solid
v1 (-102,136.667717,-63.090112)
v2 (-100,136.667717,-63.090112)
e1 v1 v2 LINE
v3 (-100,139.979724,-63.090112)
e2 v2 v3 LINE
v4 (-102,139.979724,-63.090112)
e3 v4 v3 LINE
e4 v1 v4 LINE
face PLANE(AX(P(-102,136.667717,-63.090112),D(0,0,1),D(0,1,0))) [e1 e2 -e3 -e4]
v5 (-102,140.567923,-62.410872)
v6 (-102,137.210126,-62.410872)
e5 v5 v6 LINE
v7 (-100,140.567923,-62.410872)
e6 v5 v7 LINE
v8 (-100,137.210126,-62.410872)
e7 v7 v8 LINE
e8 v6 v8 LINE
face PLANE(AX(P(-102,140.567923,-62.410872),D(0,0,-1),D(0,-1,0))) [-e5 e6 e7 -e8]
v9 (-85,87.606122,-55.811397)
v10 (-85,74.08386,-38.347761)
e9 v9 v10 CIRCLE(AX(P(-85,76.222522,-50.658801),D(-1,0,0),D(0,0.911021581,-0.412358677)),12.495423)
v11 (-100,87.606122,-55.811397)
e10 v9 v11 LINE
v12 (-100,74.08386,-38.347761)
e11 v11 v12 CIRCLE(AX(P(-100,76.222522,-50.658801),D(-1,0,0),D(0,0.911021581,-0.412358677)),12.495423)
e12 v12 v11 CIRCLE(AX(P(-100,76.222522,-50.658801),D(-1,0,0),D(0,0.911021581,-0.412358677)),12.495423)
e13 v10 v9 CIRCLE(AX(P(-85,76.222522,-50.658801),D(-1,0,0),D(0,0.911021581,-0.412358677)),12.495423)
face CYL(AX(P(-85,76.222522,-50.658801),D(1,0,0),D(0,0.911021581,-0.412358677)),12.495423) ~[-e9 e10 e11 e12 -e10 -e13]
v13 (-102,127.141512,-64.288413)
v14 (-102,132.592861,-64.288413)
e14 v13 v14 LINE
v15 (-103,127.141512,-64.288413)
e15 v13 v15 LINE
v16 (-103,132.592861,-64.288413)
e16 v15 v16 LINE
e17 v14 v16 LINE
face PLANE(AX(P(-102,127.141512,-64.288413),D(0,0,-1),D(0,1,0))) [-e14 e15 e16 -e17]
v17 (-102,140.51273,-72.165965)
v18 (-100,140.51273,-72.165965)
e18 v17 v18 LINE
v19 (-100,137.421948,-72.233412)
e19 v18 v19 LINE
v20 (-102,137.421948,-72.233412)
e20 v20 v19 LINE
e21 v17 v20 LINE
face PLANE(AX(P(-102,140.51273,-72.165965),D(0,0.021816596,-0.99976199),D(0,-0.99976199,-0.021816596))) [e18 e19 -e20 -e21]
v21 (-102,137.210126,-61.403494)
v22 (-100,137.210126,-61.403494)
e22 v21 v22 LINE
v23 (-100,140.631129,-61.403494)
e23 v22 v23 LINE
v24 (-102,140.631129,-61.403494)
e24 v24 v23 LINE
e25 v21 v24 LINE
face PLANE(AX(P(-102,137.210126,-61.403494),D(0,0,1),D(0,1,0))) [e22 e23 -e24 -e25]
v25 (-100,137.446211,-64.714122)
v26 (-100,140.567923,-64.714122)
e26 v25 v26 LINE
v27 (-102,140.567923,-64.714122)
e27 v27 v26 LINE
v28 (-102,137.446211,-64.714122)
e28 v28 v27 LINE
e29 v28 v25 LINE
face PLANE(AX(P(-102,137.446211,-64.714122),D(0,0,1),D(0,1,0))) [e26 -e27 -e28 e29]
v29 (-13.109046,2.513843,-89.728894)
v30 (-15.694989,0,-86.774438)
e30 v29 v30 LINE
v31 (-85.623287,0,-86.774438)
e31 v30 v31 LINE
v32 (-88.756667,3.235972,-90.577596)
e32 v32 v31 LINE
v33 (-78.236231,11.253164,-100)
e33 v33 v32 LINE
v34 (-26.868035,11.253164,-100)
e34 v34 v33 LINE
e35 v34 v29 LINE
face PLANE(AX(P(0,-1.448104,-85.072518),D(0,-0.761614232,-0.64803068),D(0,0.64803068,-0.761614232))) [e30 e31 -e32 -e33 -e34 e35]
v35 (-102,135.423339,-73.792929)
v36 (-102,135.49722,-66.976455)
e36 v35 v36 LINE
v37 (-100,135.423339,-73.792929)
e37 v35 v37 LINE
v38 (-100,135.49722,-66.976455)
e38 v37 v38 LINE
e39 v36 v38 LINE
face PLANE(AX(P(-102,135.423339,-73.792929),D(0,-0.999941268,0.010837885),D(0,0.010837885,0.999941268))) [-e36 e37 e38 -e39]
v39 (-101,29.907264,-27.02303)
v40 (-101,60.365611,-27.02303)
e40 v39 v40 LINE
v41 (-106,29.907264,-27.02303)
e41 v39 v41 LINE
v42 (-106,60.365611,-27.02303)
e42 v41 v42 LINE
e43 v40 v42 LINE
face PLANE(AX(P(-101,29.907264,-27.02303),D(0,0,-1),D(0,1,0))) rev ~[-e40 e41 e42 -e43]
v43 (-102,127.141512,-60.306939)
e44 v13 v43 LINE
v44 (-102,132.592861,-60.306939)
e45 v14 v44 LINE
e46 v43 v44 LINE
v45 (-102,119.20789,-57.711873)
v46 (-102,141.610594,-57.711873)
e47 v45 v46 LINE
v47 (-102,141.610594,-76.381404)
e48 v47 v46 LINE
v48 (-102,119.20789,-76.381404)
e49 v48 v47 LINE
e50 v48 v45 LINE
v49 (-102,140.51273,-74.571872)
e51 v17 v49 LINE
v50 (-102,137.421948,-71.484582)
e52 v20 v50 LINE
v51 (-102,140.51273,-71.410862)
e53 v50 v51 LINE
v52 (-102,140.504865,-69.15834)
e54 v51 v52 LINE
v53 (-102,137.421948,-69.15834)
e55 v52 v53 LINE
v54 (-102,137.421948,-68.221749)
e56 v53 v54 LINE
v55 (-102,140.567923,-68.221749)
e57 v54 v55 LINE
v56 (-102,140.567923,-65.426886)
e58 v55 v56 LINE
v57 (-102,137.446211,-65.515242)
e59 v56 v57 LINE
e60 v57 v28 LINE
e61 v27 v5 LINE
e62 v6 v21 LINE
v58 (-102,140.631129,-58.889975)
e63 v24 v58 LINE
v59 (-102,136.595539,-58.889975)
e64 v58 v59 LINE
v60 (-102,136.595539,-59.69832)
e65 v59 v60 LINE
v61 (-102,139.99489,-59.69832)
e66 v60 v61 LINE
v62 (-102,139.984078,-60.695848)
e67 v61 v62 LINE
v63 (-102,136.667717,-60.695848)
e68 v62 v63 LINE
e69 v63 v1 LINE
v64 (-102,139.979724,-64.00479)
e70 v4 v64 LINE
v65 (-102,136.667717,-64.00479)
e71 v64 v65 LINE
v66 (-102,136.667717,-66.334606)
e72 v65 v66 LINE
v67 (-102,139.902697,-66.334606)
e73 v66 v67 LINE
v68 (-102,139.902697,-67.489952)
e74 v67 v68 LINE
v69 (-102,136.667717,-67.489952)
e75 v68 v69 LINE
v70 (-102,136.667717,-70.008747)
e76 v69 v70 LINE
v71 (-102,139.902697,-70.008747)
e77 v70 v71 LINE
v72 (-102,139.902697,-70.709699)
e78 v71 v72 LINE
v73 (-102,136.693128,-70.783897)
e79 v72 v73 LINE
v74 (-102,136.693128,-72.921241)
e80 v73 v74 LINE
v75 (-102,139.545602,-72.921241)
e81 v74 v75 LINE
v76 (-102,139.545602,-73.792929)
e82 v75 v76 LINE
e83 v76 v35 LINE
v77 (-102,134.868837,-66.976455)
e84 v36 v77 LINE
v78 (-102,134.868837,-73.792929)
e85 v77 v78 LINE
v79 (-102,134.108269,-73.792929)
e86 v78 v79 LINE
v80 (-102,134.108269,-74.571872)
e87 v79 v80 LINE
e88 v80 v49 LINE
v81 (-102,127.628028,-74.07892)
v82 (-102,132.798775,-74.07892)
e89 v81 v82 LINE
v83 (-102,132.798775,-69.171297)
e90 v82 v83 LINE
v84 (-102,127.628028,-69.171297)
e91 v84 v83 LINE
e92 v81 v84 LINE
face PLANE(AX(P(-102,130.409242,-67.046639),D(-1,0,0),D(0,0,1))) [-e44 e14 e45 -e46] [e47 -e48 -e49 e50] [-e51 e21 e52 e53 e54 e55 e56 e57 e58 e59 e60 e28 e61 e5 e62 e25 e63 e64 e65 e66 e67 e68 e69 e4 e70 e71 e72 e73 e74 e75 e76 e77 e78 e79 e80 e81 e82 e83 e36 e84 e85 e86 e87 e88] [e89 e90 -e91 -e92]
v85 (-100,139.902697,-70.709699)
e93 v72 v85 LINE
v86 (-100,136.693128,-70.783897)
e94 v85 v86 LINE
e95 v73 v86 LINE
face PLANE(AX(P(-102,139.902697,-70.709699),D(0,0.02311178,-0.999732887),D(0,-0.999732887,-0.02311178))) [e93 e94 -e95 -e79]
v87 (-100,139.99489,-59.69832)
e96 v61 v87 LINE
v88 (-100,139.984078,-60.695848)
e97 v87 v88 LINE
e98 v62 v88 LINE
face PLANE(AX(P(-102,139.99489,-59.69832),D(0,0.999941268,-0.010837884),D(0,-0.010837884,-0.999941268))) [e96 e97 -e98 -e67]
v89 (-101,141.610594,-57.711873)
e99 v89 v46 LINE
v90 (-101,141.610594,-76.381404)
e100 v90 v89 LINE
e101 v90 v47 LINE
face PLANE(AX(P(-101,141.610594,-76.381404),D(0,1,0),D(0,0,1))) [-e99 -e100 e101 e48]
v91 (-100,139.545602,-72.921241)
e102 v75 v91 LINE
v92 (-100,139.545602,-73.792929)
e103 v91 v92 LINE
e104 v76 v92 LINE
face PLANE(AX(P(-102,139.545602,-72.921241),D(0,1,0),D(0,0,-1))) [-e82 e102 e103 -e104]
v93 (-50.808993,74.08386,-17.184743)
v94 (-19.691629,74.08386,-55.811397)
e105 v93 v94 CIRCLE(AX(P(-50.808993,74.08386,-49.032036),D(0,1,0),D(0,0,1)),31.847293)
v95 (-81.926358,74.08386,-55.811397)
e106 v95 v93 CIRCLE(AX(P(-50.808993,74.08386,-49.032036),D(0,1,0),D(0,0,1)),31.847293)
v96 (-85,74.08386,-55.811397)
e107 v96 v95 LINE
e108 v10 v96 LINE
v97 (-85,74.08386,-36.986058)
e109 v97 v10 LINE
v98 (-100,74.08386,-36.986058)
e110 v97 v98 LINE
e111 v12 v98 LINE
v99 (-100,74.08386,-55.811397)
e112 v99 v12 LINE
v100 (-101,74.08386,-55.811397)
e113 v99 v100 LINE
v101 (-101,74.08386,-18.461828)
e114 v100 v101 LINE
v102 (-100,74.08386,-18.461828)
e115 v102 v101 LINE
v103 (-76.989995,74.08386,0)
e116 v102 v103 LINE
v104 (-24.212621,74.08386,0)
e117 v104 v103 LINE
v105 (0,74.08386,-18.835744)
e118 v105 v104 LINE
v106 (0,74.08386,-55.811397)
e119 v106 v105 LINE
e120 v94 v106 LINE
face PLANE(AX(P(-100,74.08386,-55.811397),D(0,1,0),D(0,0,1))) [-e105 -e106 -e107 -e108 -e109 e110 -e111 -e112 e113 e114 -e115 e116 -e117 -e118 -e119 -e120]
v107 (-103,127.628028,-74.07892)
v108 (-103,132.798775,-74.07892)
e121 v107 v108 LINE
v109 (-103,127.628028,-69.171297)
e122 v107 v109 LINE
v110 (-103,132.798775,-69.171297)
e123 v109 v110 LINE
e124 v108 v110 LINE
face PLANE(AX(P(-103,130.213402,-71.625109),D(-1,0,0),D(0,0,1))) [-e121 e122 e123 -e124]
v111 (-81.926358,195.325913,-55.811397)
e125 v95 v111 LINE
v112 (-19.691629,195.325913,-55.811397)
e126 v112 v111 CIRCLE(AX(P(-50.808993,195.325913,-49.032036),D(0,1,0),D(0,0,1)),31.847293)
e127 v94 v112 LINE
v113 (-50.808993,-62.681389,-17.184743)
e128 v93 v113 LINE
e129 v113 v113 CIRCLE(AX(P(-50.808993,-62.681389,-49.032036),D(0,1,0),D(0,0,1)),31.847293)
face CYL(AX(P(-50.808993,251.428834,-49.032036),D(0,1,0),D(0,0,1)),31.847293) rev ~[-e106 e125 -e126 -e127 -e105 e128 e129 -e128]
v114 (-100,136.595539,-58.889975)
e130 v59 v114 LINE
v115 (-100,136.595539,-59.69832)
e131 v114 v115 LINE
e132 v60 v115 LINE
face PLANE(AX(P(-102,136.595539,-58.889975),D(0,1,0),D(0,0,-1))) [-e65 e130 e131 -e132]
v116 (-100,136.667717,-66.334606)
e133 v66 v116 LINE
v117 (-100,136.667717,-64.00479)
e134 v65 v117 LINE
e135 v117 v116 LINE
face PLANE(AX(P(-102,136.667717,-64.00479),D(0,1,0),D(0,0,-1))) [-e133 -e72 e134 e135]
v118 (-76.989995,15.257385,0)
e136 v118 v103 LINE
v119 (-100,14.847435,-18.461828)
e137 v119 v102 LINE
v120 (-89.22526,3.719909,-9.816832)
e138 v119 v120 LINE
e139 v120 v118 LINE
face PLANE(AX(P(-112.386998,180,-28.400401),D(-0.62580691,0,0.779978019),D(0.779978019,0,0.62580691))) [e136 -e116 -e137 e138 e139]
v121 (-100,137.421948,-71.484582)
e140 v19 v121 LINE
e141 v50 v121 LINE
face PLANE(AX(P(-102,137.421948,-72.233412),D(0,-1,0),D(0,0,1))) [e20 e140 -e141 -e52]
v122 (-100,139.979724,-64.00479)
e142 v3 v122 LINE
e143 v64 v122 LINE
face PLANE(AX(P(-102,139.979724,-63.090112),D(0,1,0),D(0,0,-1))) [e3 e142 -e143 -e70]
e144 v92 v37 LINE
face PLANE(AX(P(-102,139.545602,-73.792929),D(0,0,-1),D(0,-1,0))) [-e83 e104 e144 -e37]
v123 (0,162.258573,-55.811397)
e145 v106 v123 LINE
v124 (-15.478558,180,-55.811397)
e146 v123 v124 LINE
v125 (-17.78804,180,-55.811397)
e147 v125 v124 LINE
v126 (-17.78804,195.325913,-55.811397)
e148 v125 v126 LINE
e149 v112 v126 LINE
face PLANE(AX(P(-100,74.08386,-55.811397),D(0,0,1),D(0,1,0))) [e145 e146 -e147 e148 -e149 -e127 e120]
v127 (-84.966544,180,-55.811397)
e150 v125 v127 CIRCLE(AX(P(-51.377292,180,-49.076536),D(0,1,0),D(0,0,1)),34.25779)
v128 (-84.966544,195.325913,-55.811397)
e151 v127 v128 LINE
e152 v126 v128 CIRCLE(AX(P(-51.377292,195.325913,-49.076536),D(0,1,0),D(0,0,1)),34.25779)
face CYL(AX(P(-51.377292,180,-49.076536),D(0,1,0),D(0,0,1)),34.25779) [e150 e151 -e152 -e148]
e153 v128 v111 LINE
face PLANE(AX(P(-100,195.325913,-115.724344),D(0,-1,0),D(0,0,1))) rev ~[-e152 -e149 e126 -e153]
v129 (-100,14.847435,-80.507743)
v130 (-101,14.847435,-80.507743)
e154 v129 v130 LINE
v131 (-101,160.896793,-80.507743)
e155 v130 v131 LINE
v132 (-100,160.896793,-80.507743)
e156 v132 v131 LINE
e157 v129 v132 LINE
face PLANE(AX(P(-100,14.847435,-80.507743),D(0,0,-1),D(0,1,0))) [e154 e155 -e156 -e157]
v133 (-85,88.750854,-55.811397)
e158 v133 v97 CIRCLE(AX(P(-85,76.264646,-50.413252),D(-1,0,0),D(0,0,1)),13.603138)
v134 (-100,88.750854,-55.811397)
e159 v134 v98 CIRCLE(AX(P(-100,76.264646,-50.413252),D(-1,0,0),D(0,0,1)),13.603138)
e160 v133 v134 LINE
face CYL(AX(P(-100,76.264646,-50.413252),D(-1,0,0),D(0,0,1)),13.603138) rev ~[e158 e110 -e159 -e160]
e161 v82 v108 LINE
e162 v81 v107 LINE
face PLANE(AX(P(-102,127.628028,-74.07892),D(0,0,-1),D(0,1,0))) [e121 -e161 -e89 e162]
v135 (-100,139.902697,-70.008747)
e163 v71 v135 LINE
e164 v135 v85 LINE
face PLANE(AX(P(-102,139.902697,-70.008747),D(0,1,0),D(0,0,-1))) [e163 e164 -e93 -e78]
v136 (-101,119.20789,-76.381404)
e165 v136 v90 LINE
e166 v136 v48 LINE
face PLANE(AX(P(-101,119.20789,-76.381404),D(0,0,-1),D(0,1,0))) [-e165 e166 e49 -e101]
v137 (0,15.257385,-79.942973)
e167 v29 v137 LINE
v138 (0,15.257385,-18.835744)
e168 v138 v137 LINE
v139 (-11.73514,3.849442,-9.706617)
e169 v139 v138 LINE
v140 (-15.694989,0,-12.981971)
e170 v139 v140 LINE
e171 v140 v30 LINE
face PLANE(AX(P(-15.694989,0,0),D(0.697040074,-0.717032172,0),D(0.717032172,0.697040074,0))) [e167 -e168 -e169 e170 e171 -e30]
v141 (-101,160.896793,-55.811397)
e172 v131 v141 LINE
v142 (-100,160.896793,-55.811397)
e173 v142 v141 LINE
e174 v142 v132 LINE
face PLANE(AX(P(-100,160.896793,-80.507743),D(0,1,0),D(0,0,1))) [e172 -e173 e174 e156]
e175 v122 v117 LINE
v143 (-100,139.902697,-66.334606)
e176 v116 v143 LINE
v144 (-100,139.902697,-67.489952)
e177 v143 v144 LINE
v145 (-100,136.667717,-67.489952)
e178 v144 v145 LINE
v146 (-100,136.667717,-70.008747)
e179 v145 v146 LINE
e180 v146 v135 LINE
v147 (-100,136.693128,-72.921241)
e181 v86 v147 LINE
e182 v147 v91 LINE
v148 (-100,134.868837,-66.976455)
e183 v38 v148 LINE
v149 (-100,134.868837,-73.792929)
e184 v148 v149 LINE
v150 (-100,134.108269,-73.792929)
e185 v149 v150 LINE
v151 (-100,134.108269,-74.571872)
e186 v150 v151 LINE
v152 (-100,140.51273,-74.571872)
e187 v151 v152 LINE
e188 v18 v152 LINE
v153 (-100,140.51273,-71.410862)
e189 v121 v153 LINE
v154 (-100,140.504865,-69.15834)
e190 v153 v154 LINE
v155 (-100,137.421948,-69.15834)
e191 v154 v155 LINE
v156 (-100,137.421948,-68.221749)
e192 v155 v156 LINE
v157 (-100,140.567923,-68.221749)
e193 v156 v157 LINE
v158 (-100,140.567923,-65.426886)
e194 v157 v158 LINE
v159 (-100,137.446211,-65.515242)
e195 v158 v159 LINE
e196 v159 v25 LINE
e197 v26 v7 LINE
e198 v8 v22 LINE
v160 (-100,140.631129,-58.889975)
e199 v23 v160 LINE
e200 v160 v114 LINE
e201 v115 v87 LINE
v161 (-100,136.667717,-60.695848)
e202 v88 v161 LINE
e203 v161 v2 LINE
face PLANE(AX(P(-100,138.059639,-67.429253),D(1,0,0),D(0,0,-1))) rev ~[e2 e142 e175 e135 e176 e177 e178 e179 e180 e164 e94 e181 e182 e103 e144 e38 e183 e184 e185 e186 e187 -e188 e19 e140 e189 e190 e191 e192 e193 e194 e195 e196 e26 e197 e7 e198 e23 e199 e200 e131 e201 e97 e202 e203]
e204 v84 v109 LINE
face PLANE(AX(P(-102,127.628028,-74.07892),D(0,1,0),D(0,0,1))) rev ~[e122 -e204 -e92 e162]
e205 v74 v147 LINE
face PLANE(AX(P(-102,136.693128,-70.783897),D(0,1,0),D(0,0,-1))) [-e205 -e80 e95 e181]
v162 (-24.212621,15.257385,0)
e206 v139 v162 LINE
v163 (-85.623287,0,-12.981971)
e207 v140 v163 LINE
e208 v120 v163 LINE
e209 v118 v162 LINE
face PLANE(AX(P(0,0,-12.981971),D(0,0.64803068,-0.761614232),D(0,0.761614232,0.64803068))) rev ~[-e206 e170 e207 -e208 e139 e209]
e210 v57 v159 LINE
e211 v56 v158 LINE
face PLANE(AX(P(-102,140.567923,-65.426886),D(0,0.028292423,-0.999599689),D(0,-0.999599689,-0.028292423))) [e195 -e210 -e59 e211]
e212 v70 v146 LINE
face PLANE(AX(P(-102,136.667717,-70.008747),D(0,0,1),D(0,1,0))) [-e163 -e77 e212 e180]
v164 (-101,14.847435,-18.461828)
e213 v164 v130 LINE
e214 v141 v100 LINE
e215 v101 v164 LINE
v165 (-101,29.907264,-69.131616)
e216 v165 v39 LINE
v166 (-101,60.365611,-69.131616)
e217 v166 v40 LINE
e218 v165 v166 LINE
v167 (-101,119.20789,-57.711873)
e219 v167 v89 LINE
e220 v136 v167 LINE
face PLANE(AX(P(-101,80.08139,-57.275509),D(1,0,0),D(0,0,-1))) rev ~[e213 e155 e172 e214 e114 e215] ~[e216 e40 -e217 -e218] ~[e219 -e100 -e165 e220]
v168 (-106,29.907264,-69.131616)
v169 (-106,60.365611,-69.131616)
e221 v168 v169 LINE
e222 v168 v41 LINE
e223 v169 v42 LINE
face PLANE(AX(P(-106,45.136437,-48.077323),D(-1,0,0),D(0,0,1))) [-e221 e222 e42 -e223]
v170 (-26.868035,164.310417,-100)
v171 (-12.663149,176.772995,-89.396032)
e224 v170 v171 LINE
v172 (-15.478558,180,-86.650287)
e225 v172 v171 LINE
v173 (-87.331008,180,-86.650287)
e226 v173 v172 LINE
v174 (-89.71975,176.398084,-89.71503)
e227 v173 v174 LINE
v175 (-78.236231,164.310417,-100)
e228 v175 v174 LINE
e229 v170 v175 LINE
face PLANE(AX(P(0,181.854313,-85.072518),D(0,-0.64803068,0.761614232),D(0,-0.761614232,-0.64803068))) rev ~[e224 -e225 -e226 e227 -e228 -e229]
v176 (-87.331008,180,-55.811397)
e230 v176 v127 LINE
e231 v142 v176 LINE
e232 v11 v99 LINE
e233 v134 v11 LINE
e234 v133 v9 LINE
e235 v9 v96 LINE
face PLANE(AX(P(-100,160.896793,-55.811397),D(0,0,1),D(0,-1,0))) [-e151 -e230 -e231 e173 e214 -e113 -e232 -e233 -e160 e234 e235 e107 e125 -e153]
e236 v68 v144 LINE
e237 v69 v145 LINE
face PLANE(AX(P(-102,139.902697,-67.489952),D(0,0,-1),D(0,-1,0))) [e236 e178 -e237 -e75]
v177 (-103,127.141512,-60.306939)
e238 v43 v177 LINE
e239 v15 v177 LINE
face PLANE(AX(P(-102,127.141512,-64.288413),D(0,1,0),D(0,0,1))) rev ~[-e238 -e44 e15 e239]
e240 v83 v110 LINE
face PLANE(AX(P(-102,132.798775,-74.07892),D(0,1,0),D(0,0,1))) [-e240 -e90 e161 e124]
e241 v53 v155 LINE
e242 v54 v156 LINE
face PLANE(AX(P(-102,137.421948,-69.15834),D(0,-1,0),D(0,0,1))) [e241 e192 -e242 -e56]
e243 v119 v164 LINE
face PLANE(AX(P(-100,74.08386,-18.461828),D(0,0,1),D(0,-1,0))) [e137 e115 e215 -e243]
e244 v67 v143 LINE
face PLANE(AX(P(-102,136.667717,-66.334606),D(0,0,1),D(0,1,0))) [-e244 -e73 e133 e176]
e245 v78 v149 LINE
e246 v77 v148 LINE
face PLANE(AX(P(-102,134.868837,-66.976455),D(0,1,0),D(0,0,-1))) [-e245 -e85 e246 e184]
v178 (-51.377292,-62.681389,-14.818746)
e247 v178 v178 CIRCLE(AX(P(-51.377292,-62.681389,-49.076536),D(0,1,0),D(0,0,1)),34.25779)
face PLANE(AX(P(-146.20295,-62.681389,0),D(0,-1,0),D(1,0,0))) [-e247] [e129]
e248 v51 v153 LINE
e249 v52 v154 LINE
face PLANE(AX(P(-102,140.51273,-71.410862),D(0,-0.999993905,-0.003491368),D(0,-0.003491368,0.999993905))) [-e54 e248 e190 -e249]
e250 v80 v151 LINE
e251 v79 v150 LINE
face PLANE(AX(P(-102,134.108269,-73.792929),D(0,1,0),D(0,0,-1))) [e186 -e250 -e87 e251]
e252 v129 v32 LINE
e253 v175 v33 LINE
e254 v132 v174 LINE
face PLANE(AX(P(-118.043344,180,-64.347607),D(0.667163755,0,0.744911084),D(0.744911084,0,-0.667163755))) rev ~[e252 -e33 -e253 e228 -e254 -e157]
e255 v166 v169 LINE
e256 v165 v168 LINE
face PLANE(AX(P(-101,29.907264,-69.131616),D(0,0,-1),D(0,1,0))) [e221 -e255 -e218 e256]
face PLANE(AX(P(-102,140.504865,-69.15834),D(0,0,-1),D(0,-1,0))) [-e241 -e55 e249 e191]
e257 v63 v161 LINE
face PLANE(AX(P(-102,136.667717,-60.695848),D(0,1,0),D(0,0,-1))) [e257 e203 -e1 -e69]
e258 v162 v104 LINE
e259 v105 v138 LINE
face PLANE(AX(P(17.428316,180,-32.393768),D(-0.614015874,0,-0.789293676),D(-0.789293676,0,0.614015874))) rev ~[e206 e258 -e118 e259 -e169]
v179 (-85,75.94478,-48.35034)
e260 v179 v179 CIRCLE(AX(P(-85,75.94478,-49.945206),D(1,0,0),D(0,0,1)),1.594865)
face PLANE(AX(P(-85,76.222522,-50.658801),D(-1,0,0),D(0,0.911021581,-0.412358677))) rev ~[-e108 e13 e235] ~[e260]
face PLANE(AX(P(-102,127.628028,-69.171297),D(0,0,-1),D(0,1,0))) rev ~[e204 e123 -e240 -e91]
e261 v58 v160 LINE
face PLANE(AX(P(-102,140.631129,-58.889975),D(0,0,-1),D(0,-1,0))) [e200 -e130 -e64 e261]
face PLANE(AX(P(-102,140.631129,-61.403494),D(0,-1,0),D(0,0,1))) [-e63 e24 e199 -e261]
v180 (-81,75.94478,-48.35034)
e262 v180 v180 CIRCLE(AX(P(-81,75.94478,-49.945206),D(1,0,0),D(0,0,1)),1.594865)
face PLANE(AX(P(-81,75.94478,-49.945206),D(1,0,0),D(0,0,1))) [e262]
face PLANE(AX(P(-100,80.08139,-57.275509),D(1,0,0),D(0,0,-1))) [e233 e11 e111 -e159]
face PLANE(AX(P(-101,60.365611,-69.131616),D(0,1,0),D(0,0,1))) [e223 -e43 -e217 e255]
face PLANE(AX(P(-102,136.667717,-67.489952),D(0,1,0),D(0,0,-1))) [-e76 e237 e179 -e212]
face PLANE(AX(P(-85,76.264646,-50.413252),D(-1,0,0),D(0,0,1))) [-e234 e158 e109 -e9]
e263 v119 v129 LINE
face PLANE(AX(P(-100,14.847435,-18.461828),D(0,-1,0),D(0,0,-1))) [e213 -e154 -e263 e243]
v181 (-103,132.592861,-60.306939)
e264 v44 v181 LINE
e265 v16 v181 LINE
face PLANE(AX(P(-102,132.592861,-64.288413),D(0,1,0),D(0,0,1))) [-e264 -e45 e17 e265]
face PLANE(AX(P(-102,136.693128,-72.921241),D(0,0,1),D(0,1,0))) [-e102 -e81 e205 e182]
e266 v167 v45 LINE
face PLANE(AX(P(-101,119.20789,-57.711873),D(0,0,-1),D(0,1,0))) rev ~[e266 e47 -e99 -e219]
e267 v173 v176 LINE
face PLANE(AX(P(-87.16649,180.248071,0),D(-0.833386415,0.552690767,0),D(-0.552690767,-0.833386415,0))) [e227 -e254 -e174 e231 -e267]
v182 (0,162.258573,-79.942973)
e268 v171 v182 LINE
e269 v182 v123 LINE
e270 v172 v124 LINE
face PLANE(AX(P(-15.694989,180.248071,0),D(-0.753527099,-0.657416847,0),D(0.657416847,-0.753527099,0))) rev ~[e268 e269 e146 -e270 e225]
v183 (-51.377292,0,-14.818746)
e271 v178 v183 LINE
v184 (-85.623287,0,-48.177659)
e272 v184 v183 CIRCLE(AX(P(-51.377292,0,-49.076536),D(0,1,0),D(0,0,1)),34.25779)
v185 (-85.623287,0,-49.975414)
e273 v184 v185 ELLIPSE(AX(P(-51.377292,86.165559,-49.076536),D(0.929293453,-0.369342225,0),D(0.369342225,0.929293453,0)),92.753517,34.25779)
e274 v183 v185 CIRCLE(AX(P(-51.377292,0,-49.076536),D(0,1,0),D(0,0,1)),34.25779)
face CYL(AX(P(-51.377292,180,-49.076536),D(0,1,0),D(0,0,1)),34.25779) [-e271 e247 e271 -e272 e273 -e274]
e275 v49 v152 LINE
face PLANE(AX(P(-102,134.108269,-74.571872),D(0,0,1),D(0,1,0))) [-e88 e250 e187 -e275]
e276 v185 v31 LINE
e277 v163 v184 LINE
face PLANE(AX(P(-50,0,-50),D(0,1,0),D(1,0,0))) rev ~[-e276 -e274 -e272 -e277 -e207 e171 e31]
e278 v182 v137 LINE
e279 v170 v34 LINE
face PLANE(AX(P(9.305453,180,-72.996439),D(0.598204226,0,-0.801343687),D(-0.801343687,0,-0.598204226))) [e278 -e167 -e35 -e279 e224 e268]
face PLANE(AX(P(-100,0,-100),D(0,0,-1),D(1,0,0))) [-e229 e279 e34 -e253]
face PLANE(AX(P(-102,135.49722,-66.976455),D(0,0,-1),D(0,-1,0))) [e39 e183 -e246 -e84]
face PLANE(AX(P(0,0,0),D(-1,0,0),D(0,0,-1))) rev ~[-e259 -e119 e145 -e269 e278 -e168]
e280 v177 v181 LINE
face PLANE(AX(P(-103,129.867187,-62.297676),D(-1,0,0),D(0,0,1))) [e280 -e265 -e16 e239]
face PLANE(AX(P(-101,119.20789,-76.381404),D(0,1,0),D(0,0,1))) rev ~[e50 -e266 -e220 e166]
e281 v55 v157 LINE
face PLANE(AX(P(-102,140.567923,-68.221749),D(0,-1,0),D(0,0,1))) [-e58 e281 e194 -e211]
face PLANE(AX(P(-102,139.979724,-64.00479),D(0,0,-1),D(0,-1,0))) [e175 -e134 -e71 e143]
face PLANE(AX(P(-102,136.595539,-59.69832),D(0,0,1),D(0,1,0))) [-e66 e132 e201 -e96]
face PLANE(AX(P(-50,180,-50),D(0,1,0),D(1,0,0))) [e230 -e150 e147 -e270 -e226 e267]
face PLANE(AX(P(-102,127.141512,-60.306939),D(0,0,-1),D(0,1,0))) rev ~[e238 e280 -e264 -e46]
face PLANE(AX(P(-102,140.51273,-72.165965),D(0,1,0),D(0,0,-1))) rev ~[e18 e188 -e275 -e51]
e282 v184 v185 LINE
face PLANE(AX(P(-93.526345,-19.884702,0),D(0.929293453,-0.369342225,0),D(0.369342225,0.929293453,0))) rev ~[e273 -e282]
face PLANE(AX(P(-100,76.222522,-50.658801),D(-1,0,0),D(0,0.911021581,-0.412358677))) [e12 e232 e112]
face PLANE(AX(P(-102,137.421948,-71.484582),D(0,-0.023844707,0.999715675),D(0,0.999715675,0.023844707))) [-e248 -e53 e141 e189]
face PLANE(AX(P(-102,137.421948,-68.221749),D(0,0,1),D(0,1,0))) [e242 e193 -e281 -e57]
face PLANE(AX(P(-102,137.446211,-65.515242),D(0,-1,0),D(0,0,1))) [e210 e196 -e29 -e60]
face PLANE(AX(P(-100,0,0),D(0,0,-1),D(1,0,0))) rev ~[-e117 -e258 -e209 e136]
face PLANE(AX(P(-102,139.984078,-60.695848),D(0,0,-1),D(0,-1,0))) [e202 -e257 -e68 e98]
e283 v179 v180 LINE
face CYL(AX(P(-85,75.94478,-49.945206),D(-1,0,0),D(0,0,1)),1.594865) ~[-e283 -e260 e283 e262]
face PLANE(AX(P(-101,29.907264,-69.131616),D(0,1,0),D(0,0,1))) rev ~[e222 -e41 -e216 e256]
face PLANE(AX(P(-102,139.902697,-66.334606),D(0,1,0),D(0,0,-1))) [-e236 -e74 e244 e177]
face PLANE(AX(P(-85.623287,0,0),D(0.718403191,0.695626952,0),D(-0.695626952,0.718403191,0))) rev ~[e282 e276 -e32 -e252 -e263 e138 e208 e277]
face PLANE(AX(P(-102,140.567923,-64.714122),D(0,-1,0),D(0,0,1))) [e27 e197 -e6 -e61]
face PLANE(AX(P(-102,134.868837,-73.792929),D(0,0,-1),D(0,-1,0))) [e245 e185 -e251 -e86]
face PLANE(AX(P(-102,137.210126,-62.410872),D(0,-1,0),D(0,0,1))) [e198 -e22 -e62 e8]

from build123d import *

# Parameters (mm, degrees)
SKETCH1_W           = 100
SKETCH1_H           = 100
BOSS_EXTRUDE1_DEPTH = 180
SKETCH2_R           = 34.257790197
BOSS_EXTRUDE2_DEPTH = 350
SKETCH3_W           = 152.006357392
SKETCH3_H           = 282.452416457
CUT_EXTRUDE2_DEPTH  = 400
CUT_EXTRUDE3_DEPTH  = 400
CUT_EXTRUDE4_DEPTH  = 400
CUT_EXTRUDE5_DEPTH  = 400
SKETCH7_W           = 160.159381639
SKETCH7_H           = 147.362276113
CUT_EXTRUDE6_DEPTH  = 400
SKETCH8_W           = 147.310744502
SKETCH8_H           = 162.038906966
CUT_EXTRUDE7_DEPTH  = 400
SKETCH9_R           = 31.847293423
CUT_EXTRUDE8_DEPTH  = 400
SKETCH10_W          = 140.220962397
SKETCH10_H          = 212.033531124
CUT_EXTRUDE9_DEPTH  = 400
SKETCH11_R          = 13.603137886
CUT_EXTRUDE11_DEPTH = 15
SKETCH12_R          = 12.495422516
BOSS_EXTRUDE3_DEPTH = 15
SKETCH13_R          = 1.594865099
BOSS_EXTRUDE4_DEPTH = 4
SKETCH14_W          = 100.74862993
SKETCH14_H          = 110.555003588
CUT_EXTRUDE13_DEPTH = 400
BOSS_EXTRUDE5_DEPTH = 1
SKETCH16_W          = 42.108585165
SKETCH16_H          = 30.458347221
BOSS_EXTRUDE6_DEPTH = 5
SKETCH17_W          = 18.669530869
SKETCH17_H          = 22.4027039
BOSS_EXTRUDE7_DEPTH = 1
SKETCH18_W          = 4.907623399
SKETCH18_H          = 5.170746831
SKETCH18_W_2        = 3.981473695
SKETCH18_H_2        = 5.451349552
BOSS_EXTRUDE8_DEPTH = 1
CUT_EXTRUDE14_DEPTH = 2


with BuildPart() as part:
    # Sketch1 → Boss-Extrude1 (new body)
    with BuildSketch(Plane(origin=(0, 0, 0), x_dir=(1, 0, 0), z_dir=(0, 1, 0))):
        with Locations((-50, 50)):
            Rectangle(SKETCH1_W, SKETCH1_H)
    extrude(amount=BOSS_EXTRUDE1_DEPTH)

    # Sketch2 → Boss-Extrude2 (add, symmetric)
    with BuildSketch(Plane(origin=(0, 180, 0), x_dir=(1, 0, 0), z_dir=(0, 1, 0))):
        with Locations(Location((-51.377291833, 49.076536384, 0), (0, 0, 270))):
            Circle(SKETCH2_R)
    extrude(amount=BOSS_EXTRUDE2_DEPTH, both=True)

    # Sketch3 → Cut-Extrude2 (cut)
    with BuildSketch(Plane(origin=(0, 0, 0), x_dir=(0, 0, -1), z_dir=(1, 0, 0))):
        with Locations((57.419900112, 502.274302507)):
            Rectangle(SKETCH3_W, SKETCH3_H)
    extrude(amount=-CUT_EXTRUDE2_DEPTH, mode=Mode.SUBTRACT)

    # Sketch4 → Cut-Extrude3 (cut)
    with BuildSketch(Plane(origin=(0, 0, 0), x_dir=(0, 0, -1), z_dir=(1, 0, 0))):
        Polygon((12.981970869, 0), (-8.994244796, 25.828096003), (-18.564506014, -15.259465835), align=None)
        Polygon((85.072517936, -1.448103984), (109.237639161, 19.113145112), (115.920034239, -3.267382694), align=None)
        Polygon((12.981970869, 180), (-8.994244796, 148.537596011), (-15.418178585, 193.219274892), align=None)
        Polygon((85.072517936, 181.854312784), (103.841225373, 159.795920888), (106.132549481, 198.647393934), align=None)
    extrude(amount=-CUT_EXTRUDE3_DEPTH, mode=Mode.SUBTRACT)

    # Sketch5 → Cut-Extrude4 (cut)
    with BuildSketch(Plane.XY):
        Polygon((-85.623287335, 0), (-106.370377984, 21.426392531), (-122.288861874, 3.209259887), (-93.526345261, -19.884701759), align=None)
        Polygon((-15.694988751, 0), (0, 15.257385304), (12.122677088, 15.257385304), (10.563067769, -19.884701759), align=None)
        Polygon((-87.166490339, 180.248071029), (-106.370377984, 151.29108453), (-117.705469457, 200.501115102), align=None)
        Polygon((-15.694988751, 180.248071029), (7.833767065, 153.279557508), (0, 193.941208308), align=None)
    extrude(amount=-CUT_EXTRUDE4_DEPTH, mode=Mode.SUBTRACT)

    # Sketch6 → Cut-Extrude5 (cut)
    with BuildSketch(Plane(origin=(0, 180, 0), x_dir=(1, 0, 0), z_dir=(0, 1, 0))):
        Polygon((-112.386997555, 28.400400964), (-64.261264503, -10.212759359), (-84.406366528, -15.51192827), (-124.649689542, -15.51192827), align=None)
        Polygon((-97.065537028, 135.861756084), (-119.37552445, 77.792688888), (-118.043343626, 64.347606737), (-66.428694172, 110.575168787), align=None)
        Polygon((-24.69640689, -21.815840769), (11.092108798, -8.97361337), (17.428316417, 32.393768119), (-38.531576846, -11.139157378), align=None)
        Polygon((-17.445484601, 140.804394854), (35.417473102, 107.262520599), (9.305452855, 72.996438725), (-31.724385352, 103.625272537), align=None)
    extrude(amount=-CUT_EXTRUDE5_DEPTH, mode=Mode.SUBTRACT)

    # Sketch7 → Cut-Extrude6 (cut)
    with BuildSketch(Plane.XY):
        with Locations((-66.123258915, -136.36252694)):
            Rectangle(SKETCH7_W, SKETCH7_H)
    extrude(amount=-CUT_EXTRUDE6_DEPTH, mode=Mode.SUBTRACT)

    # Sketch8 → Cut-Extrude7 (cut)
    with BuildSketch(Plane.XY):
        with Locations((-53.541153336, 332.448287589)):
            Rectangle(SKETCH8_W, SKETCH8_H)
    extrude(amount=-CUT_EXTRUDE7_DEPTH, mode=Mode.SUBTRACT)

    # Sketch9 → Cut-Extrude8 (cut)
    with BuildSketch(Plane(origin=(0, 251.428834106, 0), x_dir=(1, 0, 0), z_dir=(0, 1, 0))):
        with Locations(Location((-50.808993157, 49.032036374, 0), (0, 0, 270))):
            Circle(SKETCH9_R)
    extrude(amount=-CUT_EXTRUDE8_DEPTH, mode=Mode.SUBTRACT)

    # Sketch10 → Cut-Extrude9 (cut)
    with BuildSketch(Plane.ZY.offset(100)):
        with Locations((14.299084536, 180.100625535)):
            Rectangle(SKETCH10_W, SKETCH10_H)
    extrude(amount=-CUT_EXTRUDE9_DEPTH, mode=Mode.SUBTRACT)

    # Sketch11 → Cut-Extrude11 (cut)
    with BuildSketch(Plane.ZY.offset(100)):
        with Locations((-50.413251954, 76.264646142)):
            Circle(SKETCH11_R)
    extrude(amount=-CUT_EXTRUDE11_DEPTH, mode=Mode.SUBTRACT)

    # Sketch12 → Boss-Extrude3 (add)
    with BuildSketch(Plane.ZY.offset(85)):
        with Locations(Location((-50.658800768, 76.222522328, 0), (0, 0, 114.353089558))):
            Circle(SKETCH12_R)
    extrude(amount=BOSS_EXTRUDE3_DEPTH)

    # Sketch13 → Boss-Extrude4 (add)
    with BuildSketch(Plane(origin=(-85, 0, 0), x_dir=(0, 0, -1), z_dir=(1, 0, 0))):
        with Locations(Location((49.945205578, 75.944780088, 0), (0, 0, 180))):
            Circle(SKETCH13_R)
    extrude(amount=BOSS_EXTRUDE4_DEPTH)

    # Sketch14 → Cut-Extrude13 (cut)
    with BuildSketch(Plane.ZY.offset(100)):
        with Locations((-65.350029467, 250.603414818)):
            Rectangle(SKETCH14_W, SKETCH14_H)
    extrude(amount=-CUT_EXTRUDE13_DEPTH, mode=Mode.SUBTRACT)

    # Sketch15 → Boss-Extrude5 (add)
    with BuildSketch(Plane.ZY.offset(100)):
        Polygon((-18.461827727, 14.847435435), (-80.507743362, 14.847435435), (-80.507743362, 160.896793159), (-55.811396663, 160.896793159), (-55.811396663, 74.083859973), (-18.461827727, 74.083859973), align=None)
    extrude(amount=BOSS_EXTRUDE5_DEPTH)

    # Sketch16 → Boss-Extrude6 (add)
    with BuildSketch(Plane.ZY.offset(101)):
        with Locations((-48.07732297, 45.136437142)):
            Rectangle(SKETCH16_W, SKETCH16_H)
    extrude(amount=BOSS_EXTRUDE6_DEPTH)

    # Sketch17 → Boss-Extrude7 (add)
    with BuildSketch(Plane.ZY.offset(101)):
        with Locations((-67.04663872, 130.409241603)):
            Rectangle(SKETCH17_W, SKETCH17_H)
    extrude(amount=BOSS_EXTRUDE7_DEPTH)

    # Sketch18 → Boss-Extrude8 (add)
    with BuildSketch(Plane.ZY.offset(102)):
        with Locations((-71.625108618, 130.213401885)):
            Rectangle(SKETCH18_W, SKETCH18_H)
        with Locations((-62.297675883, 129.867186512)):
            Rectangle(SKETCH18_W_2, SKETCH18_H_2)
    extrude(amount=BOSS_EXTRUDE8_DEPTH)

    # Sketch19 → Cut-Extrude14 (cut)
    with BuildSketch(Plane.ZY.offset(102)):
        Polygon((-66.976455081, 134.868836652), (-73.7929295, 134.868836652), (-73.7929295, 134.108269479), (-74.571872104, 134.108269479), (-74.571872104, 140.512729543), (-73.7929295, 140.512729543), (-72.165965418, 140.512729543), (-72.233411796, 137.421948277), (-71.48458153, 137.421948277), (-71.410861795, 140.512729543), (-69.158339735, 140.504865112), (-69.158339735, 137.421948277), (-68.22174926, 137.421948277), (-68.22174926, 140.567922793), (-65.426885805, 140.567922793), (-65.515241968, 137.446210948), (-64.714122339, 137.446210948), (-64.714122339, 140.567922793), (-62.410871788, 140.567922793), (-62.410871788, 137.210126003), (-61.403493639, 137.210126003), (-61.403493639, 140.631129361), (-58.889974549, 140.631129361), (-58.889974549, 136.595539338), (-59.698319644, 136.595539338), (-59.698319644, 139.99489006), (-60.695848378, 139.984078324), (-60.695848378, 136.667717235), (-63.090112056, 136.667717235), (-63.090112056, 139.979723883), (-64.00479018, 139.979723883), (-64.00479018, 136.667717235), (-66.334605538, 136.667717235), (-66.334605538, 139.902697072), (-67.48995239, 139.902697072), (-67.48995239, 136.667717235), (-70.008746759, 136.667717235), (-70.008746759, 139.902697072), (-70.709698815, 139.902697072), (-70.783897489, 136.693128041), (-72.921241048, 136.693128041), (-72.921241048, 139.545601992), (-73.7929295, 139.545601992), (-73.7929295, 135.423339258), (-66.976455081, 135.49721976), align=None)
    extrude(amount=-CUT_EXTRUDE14_DEPTH, mode=Mode.SUBTRACT)


solid = part.part
